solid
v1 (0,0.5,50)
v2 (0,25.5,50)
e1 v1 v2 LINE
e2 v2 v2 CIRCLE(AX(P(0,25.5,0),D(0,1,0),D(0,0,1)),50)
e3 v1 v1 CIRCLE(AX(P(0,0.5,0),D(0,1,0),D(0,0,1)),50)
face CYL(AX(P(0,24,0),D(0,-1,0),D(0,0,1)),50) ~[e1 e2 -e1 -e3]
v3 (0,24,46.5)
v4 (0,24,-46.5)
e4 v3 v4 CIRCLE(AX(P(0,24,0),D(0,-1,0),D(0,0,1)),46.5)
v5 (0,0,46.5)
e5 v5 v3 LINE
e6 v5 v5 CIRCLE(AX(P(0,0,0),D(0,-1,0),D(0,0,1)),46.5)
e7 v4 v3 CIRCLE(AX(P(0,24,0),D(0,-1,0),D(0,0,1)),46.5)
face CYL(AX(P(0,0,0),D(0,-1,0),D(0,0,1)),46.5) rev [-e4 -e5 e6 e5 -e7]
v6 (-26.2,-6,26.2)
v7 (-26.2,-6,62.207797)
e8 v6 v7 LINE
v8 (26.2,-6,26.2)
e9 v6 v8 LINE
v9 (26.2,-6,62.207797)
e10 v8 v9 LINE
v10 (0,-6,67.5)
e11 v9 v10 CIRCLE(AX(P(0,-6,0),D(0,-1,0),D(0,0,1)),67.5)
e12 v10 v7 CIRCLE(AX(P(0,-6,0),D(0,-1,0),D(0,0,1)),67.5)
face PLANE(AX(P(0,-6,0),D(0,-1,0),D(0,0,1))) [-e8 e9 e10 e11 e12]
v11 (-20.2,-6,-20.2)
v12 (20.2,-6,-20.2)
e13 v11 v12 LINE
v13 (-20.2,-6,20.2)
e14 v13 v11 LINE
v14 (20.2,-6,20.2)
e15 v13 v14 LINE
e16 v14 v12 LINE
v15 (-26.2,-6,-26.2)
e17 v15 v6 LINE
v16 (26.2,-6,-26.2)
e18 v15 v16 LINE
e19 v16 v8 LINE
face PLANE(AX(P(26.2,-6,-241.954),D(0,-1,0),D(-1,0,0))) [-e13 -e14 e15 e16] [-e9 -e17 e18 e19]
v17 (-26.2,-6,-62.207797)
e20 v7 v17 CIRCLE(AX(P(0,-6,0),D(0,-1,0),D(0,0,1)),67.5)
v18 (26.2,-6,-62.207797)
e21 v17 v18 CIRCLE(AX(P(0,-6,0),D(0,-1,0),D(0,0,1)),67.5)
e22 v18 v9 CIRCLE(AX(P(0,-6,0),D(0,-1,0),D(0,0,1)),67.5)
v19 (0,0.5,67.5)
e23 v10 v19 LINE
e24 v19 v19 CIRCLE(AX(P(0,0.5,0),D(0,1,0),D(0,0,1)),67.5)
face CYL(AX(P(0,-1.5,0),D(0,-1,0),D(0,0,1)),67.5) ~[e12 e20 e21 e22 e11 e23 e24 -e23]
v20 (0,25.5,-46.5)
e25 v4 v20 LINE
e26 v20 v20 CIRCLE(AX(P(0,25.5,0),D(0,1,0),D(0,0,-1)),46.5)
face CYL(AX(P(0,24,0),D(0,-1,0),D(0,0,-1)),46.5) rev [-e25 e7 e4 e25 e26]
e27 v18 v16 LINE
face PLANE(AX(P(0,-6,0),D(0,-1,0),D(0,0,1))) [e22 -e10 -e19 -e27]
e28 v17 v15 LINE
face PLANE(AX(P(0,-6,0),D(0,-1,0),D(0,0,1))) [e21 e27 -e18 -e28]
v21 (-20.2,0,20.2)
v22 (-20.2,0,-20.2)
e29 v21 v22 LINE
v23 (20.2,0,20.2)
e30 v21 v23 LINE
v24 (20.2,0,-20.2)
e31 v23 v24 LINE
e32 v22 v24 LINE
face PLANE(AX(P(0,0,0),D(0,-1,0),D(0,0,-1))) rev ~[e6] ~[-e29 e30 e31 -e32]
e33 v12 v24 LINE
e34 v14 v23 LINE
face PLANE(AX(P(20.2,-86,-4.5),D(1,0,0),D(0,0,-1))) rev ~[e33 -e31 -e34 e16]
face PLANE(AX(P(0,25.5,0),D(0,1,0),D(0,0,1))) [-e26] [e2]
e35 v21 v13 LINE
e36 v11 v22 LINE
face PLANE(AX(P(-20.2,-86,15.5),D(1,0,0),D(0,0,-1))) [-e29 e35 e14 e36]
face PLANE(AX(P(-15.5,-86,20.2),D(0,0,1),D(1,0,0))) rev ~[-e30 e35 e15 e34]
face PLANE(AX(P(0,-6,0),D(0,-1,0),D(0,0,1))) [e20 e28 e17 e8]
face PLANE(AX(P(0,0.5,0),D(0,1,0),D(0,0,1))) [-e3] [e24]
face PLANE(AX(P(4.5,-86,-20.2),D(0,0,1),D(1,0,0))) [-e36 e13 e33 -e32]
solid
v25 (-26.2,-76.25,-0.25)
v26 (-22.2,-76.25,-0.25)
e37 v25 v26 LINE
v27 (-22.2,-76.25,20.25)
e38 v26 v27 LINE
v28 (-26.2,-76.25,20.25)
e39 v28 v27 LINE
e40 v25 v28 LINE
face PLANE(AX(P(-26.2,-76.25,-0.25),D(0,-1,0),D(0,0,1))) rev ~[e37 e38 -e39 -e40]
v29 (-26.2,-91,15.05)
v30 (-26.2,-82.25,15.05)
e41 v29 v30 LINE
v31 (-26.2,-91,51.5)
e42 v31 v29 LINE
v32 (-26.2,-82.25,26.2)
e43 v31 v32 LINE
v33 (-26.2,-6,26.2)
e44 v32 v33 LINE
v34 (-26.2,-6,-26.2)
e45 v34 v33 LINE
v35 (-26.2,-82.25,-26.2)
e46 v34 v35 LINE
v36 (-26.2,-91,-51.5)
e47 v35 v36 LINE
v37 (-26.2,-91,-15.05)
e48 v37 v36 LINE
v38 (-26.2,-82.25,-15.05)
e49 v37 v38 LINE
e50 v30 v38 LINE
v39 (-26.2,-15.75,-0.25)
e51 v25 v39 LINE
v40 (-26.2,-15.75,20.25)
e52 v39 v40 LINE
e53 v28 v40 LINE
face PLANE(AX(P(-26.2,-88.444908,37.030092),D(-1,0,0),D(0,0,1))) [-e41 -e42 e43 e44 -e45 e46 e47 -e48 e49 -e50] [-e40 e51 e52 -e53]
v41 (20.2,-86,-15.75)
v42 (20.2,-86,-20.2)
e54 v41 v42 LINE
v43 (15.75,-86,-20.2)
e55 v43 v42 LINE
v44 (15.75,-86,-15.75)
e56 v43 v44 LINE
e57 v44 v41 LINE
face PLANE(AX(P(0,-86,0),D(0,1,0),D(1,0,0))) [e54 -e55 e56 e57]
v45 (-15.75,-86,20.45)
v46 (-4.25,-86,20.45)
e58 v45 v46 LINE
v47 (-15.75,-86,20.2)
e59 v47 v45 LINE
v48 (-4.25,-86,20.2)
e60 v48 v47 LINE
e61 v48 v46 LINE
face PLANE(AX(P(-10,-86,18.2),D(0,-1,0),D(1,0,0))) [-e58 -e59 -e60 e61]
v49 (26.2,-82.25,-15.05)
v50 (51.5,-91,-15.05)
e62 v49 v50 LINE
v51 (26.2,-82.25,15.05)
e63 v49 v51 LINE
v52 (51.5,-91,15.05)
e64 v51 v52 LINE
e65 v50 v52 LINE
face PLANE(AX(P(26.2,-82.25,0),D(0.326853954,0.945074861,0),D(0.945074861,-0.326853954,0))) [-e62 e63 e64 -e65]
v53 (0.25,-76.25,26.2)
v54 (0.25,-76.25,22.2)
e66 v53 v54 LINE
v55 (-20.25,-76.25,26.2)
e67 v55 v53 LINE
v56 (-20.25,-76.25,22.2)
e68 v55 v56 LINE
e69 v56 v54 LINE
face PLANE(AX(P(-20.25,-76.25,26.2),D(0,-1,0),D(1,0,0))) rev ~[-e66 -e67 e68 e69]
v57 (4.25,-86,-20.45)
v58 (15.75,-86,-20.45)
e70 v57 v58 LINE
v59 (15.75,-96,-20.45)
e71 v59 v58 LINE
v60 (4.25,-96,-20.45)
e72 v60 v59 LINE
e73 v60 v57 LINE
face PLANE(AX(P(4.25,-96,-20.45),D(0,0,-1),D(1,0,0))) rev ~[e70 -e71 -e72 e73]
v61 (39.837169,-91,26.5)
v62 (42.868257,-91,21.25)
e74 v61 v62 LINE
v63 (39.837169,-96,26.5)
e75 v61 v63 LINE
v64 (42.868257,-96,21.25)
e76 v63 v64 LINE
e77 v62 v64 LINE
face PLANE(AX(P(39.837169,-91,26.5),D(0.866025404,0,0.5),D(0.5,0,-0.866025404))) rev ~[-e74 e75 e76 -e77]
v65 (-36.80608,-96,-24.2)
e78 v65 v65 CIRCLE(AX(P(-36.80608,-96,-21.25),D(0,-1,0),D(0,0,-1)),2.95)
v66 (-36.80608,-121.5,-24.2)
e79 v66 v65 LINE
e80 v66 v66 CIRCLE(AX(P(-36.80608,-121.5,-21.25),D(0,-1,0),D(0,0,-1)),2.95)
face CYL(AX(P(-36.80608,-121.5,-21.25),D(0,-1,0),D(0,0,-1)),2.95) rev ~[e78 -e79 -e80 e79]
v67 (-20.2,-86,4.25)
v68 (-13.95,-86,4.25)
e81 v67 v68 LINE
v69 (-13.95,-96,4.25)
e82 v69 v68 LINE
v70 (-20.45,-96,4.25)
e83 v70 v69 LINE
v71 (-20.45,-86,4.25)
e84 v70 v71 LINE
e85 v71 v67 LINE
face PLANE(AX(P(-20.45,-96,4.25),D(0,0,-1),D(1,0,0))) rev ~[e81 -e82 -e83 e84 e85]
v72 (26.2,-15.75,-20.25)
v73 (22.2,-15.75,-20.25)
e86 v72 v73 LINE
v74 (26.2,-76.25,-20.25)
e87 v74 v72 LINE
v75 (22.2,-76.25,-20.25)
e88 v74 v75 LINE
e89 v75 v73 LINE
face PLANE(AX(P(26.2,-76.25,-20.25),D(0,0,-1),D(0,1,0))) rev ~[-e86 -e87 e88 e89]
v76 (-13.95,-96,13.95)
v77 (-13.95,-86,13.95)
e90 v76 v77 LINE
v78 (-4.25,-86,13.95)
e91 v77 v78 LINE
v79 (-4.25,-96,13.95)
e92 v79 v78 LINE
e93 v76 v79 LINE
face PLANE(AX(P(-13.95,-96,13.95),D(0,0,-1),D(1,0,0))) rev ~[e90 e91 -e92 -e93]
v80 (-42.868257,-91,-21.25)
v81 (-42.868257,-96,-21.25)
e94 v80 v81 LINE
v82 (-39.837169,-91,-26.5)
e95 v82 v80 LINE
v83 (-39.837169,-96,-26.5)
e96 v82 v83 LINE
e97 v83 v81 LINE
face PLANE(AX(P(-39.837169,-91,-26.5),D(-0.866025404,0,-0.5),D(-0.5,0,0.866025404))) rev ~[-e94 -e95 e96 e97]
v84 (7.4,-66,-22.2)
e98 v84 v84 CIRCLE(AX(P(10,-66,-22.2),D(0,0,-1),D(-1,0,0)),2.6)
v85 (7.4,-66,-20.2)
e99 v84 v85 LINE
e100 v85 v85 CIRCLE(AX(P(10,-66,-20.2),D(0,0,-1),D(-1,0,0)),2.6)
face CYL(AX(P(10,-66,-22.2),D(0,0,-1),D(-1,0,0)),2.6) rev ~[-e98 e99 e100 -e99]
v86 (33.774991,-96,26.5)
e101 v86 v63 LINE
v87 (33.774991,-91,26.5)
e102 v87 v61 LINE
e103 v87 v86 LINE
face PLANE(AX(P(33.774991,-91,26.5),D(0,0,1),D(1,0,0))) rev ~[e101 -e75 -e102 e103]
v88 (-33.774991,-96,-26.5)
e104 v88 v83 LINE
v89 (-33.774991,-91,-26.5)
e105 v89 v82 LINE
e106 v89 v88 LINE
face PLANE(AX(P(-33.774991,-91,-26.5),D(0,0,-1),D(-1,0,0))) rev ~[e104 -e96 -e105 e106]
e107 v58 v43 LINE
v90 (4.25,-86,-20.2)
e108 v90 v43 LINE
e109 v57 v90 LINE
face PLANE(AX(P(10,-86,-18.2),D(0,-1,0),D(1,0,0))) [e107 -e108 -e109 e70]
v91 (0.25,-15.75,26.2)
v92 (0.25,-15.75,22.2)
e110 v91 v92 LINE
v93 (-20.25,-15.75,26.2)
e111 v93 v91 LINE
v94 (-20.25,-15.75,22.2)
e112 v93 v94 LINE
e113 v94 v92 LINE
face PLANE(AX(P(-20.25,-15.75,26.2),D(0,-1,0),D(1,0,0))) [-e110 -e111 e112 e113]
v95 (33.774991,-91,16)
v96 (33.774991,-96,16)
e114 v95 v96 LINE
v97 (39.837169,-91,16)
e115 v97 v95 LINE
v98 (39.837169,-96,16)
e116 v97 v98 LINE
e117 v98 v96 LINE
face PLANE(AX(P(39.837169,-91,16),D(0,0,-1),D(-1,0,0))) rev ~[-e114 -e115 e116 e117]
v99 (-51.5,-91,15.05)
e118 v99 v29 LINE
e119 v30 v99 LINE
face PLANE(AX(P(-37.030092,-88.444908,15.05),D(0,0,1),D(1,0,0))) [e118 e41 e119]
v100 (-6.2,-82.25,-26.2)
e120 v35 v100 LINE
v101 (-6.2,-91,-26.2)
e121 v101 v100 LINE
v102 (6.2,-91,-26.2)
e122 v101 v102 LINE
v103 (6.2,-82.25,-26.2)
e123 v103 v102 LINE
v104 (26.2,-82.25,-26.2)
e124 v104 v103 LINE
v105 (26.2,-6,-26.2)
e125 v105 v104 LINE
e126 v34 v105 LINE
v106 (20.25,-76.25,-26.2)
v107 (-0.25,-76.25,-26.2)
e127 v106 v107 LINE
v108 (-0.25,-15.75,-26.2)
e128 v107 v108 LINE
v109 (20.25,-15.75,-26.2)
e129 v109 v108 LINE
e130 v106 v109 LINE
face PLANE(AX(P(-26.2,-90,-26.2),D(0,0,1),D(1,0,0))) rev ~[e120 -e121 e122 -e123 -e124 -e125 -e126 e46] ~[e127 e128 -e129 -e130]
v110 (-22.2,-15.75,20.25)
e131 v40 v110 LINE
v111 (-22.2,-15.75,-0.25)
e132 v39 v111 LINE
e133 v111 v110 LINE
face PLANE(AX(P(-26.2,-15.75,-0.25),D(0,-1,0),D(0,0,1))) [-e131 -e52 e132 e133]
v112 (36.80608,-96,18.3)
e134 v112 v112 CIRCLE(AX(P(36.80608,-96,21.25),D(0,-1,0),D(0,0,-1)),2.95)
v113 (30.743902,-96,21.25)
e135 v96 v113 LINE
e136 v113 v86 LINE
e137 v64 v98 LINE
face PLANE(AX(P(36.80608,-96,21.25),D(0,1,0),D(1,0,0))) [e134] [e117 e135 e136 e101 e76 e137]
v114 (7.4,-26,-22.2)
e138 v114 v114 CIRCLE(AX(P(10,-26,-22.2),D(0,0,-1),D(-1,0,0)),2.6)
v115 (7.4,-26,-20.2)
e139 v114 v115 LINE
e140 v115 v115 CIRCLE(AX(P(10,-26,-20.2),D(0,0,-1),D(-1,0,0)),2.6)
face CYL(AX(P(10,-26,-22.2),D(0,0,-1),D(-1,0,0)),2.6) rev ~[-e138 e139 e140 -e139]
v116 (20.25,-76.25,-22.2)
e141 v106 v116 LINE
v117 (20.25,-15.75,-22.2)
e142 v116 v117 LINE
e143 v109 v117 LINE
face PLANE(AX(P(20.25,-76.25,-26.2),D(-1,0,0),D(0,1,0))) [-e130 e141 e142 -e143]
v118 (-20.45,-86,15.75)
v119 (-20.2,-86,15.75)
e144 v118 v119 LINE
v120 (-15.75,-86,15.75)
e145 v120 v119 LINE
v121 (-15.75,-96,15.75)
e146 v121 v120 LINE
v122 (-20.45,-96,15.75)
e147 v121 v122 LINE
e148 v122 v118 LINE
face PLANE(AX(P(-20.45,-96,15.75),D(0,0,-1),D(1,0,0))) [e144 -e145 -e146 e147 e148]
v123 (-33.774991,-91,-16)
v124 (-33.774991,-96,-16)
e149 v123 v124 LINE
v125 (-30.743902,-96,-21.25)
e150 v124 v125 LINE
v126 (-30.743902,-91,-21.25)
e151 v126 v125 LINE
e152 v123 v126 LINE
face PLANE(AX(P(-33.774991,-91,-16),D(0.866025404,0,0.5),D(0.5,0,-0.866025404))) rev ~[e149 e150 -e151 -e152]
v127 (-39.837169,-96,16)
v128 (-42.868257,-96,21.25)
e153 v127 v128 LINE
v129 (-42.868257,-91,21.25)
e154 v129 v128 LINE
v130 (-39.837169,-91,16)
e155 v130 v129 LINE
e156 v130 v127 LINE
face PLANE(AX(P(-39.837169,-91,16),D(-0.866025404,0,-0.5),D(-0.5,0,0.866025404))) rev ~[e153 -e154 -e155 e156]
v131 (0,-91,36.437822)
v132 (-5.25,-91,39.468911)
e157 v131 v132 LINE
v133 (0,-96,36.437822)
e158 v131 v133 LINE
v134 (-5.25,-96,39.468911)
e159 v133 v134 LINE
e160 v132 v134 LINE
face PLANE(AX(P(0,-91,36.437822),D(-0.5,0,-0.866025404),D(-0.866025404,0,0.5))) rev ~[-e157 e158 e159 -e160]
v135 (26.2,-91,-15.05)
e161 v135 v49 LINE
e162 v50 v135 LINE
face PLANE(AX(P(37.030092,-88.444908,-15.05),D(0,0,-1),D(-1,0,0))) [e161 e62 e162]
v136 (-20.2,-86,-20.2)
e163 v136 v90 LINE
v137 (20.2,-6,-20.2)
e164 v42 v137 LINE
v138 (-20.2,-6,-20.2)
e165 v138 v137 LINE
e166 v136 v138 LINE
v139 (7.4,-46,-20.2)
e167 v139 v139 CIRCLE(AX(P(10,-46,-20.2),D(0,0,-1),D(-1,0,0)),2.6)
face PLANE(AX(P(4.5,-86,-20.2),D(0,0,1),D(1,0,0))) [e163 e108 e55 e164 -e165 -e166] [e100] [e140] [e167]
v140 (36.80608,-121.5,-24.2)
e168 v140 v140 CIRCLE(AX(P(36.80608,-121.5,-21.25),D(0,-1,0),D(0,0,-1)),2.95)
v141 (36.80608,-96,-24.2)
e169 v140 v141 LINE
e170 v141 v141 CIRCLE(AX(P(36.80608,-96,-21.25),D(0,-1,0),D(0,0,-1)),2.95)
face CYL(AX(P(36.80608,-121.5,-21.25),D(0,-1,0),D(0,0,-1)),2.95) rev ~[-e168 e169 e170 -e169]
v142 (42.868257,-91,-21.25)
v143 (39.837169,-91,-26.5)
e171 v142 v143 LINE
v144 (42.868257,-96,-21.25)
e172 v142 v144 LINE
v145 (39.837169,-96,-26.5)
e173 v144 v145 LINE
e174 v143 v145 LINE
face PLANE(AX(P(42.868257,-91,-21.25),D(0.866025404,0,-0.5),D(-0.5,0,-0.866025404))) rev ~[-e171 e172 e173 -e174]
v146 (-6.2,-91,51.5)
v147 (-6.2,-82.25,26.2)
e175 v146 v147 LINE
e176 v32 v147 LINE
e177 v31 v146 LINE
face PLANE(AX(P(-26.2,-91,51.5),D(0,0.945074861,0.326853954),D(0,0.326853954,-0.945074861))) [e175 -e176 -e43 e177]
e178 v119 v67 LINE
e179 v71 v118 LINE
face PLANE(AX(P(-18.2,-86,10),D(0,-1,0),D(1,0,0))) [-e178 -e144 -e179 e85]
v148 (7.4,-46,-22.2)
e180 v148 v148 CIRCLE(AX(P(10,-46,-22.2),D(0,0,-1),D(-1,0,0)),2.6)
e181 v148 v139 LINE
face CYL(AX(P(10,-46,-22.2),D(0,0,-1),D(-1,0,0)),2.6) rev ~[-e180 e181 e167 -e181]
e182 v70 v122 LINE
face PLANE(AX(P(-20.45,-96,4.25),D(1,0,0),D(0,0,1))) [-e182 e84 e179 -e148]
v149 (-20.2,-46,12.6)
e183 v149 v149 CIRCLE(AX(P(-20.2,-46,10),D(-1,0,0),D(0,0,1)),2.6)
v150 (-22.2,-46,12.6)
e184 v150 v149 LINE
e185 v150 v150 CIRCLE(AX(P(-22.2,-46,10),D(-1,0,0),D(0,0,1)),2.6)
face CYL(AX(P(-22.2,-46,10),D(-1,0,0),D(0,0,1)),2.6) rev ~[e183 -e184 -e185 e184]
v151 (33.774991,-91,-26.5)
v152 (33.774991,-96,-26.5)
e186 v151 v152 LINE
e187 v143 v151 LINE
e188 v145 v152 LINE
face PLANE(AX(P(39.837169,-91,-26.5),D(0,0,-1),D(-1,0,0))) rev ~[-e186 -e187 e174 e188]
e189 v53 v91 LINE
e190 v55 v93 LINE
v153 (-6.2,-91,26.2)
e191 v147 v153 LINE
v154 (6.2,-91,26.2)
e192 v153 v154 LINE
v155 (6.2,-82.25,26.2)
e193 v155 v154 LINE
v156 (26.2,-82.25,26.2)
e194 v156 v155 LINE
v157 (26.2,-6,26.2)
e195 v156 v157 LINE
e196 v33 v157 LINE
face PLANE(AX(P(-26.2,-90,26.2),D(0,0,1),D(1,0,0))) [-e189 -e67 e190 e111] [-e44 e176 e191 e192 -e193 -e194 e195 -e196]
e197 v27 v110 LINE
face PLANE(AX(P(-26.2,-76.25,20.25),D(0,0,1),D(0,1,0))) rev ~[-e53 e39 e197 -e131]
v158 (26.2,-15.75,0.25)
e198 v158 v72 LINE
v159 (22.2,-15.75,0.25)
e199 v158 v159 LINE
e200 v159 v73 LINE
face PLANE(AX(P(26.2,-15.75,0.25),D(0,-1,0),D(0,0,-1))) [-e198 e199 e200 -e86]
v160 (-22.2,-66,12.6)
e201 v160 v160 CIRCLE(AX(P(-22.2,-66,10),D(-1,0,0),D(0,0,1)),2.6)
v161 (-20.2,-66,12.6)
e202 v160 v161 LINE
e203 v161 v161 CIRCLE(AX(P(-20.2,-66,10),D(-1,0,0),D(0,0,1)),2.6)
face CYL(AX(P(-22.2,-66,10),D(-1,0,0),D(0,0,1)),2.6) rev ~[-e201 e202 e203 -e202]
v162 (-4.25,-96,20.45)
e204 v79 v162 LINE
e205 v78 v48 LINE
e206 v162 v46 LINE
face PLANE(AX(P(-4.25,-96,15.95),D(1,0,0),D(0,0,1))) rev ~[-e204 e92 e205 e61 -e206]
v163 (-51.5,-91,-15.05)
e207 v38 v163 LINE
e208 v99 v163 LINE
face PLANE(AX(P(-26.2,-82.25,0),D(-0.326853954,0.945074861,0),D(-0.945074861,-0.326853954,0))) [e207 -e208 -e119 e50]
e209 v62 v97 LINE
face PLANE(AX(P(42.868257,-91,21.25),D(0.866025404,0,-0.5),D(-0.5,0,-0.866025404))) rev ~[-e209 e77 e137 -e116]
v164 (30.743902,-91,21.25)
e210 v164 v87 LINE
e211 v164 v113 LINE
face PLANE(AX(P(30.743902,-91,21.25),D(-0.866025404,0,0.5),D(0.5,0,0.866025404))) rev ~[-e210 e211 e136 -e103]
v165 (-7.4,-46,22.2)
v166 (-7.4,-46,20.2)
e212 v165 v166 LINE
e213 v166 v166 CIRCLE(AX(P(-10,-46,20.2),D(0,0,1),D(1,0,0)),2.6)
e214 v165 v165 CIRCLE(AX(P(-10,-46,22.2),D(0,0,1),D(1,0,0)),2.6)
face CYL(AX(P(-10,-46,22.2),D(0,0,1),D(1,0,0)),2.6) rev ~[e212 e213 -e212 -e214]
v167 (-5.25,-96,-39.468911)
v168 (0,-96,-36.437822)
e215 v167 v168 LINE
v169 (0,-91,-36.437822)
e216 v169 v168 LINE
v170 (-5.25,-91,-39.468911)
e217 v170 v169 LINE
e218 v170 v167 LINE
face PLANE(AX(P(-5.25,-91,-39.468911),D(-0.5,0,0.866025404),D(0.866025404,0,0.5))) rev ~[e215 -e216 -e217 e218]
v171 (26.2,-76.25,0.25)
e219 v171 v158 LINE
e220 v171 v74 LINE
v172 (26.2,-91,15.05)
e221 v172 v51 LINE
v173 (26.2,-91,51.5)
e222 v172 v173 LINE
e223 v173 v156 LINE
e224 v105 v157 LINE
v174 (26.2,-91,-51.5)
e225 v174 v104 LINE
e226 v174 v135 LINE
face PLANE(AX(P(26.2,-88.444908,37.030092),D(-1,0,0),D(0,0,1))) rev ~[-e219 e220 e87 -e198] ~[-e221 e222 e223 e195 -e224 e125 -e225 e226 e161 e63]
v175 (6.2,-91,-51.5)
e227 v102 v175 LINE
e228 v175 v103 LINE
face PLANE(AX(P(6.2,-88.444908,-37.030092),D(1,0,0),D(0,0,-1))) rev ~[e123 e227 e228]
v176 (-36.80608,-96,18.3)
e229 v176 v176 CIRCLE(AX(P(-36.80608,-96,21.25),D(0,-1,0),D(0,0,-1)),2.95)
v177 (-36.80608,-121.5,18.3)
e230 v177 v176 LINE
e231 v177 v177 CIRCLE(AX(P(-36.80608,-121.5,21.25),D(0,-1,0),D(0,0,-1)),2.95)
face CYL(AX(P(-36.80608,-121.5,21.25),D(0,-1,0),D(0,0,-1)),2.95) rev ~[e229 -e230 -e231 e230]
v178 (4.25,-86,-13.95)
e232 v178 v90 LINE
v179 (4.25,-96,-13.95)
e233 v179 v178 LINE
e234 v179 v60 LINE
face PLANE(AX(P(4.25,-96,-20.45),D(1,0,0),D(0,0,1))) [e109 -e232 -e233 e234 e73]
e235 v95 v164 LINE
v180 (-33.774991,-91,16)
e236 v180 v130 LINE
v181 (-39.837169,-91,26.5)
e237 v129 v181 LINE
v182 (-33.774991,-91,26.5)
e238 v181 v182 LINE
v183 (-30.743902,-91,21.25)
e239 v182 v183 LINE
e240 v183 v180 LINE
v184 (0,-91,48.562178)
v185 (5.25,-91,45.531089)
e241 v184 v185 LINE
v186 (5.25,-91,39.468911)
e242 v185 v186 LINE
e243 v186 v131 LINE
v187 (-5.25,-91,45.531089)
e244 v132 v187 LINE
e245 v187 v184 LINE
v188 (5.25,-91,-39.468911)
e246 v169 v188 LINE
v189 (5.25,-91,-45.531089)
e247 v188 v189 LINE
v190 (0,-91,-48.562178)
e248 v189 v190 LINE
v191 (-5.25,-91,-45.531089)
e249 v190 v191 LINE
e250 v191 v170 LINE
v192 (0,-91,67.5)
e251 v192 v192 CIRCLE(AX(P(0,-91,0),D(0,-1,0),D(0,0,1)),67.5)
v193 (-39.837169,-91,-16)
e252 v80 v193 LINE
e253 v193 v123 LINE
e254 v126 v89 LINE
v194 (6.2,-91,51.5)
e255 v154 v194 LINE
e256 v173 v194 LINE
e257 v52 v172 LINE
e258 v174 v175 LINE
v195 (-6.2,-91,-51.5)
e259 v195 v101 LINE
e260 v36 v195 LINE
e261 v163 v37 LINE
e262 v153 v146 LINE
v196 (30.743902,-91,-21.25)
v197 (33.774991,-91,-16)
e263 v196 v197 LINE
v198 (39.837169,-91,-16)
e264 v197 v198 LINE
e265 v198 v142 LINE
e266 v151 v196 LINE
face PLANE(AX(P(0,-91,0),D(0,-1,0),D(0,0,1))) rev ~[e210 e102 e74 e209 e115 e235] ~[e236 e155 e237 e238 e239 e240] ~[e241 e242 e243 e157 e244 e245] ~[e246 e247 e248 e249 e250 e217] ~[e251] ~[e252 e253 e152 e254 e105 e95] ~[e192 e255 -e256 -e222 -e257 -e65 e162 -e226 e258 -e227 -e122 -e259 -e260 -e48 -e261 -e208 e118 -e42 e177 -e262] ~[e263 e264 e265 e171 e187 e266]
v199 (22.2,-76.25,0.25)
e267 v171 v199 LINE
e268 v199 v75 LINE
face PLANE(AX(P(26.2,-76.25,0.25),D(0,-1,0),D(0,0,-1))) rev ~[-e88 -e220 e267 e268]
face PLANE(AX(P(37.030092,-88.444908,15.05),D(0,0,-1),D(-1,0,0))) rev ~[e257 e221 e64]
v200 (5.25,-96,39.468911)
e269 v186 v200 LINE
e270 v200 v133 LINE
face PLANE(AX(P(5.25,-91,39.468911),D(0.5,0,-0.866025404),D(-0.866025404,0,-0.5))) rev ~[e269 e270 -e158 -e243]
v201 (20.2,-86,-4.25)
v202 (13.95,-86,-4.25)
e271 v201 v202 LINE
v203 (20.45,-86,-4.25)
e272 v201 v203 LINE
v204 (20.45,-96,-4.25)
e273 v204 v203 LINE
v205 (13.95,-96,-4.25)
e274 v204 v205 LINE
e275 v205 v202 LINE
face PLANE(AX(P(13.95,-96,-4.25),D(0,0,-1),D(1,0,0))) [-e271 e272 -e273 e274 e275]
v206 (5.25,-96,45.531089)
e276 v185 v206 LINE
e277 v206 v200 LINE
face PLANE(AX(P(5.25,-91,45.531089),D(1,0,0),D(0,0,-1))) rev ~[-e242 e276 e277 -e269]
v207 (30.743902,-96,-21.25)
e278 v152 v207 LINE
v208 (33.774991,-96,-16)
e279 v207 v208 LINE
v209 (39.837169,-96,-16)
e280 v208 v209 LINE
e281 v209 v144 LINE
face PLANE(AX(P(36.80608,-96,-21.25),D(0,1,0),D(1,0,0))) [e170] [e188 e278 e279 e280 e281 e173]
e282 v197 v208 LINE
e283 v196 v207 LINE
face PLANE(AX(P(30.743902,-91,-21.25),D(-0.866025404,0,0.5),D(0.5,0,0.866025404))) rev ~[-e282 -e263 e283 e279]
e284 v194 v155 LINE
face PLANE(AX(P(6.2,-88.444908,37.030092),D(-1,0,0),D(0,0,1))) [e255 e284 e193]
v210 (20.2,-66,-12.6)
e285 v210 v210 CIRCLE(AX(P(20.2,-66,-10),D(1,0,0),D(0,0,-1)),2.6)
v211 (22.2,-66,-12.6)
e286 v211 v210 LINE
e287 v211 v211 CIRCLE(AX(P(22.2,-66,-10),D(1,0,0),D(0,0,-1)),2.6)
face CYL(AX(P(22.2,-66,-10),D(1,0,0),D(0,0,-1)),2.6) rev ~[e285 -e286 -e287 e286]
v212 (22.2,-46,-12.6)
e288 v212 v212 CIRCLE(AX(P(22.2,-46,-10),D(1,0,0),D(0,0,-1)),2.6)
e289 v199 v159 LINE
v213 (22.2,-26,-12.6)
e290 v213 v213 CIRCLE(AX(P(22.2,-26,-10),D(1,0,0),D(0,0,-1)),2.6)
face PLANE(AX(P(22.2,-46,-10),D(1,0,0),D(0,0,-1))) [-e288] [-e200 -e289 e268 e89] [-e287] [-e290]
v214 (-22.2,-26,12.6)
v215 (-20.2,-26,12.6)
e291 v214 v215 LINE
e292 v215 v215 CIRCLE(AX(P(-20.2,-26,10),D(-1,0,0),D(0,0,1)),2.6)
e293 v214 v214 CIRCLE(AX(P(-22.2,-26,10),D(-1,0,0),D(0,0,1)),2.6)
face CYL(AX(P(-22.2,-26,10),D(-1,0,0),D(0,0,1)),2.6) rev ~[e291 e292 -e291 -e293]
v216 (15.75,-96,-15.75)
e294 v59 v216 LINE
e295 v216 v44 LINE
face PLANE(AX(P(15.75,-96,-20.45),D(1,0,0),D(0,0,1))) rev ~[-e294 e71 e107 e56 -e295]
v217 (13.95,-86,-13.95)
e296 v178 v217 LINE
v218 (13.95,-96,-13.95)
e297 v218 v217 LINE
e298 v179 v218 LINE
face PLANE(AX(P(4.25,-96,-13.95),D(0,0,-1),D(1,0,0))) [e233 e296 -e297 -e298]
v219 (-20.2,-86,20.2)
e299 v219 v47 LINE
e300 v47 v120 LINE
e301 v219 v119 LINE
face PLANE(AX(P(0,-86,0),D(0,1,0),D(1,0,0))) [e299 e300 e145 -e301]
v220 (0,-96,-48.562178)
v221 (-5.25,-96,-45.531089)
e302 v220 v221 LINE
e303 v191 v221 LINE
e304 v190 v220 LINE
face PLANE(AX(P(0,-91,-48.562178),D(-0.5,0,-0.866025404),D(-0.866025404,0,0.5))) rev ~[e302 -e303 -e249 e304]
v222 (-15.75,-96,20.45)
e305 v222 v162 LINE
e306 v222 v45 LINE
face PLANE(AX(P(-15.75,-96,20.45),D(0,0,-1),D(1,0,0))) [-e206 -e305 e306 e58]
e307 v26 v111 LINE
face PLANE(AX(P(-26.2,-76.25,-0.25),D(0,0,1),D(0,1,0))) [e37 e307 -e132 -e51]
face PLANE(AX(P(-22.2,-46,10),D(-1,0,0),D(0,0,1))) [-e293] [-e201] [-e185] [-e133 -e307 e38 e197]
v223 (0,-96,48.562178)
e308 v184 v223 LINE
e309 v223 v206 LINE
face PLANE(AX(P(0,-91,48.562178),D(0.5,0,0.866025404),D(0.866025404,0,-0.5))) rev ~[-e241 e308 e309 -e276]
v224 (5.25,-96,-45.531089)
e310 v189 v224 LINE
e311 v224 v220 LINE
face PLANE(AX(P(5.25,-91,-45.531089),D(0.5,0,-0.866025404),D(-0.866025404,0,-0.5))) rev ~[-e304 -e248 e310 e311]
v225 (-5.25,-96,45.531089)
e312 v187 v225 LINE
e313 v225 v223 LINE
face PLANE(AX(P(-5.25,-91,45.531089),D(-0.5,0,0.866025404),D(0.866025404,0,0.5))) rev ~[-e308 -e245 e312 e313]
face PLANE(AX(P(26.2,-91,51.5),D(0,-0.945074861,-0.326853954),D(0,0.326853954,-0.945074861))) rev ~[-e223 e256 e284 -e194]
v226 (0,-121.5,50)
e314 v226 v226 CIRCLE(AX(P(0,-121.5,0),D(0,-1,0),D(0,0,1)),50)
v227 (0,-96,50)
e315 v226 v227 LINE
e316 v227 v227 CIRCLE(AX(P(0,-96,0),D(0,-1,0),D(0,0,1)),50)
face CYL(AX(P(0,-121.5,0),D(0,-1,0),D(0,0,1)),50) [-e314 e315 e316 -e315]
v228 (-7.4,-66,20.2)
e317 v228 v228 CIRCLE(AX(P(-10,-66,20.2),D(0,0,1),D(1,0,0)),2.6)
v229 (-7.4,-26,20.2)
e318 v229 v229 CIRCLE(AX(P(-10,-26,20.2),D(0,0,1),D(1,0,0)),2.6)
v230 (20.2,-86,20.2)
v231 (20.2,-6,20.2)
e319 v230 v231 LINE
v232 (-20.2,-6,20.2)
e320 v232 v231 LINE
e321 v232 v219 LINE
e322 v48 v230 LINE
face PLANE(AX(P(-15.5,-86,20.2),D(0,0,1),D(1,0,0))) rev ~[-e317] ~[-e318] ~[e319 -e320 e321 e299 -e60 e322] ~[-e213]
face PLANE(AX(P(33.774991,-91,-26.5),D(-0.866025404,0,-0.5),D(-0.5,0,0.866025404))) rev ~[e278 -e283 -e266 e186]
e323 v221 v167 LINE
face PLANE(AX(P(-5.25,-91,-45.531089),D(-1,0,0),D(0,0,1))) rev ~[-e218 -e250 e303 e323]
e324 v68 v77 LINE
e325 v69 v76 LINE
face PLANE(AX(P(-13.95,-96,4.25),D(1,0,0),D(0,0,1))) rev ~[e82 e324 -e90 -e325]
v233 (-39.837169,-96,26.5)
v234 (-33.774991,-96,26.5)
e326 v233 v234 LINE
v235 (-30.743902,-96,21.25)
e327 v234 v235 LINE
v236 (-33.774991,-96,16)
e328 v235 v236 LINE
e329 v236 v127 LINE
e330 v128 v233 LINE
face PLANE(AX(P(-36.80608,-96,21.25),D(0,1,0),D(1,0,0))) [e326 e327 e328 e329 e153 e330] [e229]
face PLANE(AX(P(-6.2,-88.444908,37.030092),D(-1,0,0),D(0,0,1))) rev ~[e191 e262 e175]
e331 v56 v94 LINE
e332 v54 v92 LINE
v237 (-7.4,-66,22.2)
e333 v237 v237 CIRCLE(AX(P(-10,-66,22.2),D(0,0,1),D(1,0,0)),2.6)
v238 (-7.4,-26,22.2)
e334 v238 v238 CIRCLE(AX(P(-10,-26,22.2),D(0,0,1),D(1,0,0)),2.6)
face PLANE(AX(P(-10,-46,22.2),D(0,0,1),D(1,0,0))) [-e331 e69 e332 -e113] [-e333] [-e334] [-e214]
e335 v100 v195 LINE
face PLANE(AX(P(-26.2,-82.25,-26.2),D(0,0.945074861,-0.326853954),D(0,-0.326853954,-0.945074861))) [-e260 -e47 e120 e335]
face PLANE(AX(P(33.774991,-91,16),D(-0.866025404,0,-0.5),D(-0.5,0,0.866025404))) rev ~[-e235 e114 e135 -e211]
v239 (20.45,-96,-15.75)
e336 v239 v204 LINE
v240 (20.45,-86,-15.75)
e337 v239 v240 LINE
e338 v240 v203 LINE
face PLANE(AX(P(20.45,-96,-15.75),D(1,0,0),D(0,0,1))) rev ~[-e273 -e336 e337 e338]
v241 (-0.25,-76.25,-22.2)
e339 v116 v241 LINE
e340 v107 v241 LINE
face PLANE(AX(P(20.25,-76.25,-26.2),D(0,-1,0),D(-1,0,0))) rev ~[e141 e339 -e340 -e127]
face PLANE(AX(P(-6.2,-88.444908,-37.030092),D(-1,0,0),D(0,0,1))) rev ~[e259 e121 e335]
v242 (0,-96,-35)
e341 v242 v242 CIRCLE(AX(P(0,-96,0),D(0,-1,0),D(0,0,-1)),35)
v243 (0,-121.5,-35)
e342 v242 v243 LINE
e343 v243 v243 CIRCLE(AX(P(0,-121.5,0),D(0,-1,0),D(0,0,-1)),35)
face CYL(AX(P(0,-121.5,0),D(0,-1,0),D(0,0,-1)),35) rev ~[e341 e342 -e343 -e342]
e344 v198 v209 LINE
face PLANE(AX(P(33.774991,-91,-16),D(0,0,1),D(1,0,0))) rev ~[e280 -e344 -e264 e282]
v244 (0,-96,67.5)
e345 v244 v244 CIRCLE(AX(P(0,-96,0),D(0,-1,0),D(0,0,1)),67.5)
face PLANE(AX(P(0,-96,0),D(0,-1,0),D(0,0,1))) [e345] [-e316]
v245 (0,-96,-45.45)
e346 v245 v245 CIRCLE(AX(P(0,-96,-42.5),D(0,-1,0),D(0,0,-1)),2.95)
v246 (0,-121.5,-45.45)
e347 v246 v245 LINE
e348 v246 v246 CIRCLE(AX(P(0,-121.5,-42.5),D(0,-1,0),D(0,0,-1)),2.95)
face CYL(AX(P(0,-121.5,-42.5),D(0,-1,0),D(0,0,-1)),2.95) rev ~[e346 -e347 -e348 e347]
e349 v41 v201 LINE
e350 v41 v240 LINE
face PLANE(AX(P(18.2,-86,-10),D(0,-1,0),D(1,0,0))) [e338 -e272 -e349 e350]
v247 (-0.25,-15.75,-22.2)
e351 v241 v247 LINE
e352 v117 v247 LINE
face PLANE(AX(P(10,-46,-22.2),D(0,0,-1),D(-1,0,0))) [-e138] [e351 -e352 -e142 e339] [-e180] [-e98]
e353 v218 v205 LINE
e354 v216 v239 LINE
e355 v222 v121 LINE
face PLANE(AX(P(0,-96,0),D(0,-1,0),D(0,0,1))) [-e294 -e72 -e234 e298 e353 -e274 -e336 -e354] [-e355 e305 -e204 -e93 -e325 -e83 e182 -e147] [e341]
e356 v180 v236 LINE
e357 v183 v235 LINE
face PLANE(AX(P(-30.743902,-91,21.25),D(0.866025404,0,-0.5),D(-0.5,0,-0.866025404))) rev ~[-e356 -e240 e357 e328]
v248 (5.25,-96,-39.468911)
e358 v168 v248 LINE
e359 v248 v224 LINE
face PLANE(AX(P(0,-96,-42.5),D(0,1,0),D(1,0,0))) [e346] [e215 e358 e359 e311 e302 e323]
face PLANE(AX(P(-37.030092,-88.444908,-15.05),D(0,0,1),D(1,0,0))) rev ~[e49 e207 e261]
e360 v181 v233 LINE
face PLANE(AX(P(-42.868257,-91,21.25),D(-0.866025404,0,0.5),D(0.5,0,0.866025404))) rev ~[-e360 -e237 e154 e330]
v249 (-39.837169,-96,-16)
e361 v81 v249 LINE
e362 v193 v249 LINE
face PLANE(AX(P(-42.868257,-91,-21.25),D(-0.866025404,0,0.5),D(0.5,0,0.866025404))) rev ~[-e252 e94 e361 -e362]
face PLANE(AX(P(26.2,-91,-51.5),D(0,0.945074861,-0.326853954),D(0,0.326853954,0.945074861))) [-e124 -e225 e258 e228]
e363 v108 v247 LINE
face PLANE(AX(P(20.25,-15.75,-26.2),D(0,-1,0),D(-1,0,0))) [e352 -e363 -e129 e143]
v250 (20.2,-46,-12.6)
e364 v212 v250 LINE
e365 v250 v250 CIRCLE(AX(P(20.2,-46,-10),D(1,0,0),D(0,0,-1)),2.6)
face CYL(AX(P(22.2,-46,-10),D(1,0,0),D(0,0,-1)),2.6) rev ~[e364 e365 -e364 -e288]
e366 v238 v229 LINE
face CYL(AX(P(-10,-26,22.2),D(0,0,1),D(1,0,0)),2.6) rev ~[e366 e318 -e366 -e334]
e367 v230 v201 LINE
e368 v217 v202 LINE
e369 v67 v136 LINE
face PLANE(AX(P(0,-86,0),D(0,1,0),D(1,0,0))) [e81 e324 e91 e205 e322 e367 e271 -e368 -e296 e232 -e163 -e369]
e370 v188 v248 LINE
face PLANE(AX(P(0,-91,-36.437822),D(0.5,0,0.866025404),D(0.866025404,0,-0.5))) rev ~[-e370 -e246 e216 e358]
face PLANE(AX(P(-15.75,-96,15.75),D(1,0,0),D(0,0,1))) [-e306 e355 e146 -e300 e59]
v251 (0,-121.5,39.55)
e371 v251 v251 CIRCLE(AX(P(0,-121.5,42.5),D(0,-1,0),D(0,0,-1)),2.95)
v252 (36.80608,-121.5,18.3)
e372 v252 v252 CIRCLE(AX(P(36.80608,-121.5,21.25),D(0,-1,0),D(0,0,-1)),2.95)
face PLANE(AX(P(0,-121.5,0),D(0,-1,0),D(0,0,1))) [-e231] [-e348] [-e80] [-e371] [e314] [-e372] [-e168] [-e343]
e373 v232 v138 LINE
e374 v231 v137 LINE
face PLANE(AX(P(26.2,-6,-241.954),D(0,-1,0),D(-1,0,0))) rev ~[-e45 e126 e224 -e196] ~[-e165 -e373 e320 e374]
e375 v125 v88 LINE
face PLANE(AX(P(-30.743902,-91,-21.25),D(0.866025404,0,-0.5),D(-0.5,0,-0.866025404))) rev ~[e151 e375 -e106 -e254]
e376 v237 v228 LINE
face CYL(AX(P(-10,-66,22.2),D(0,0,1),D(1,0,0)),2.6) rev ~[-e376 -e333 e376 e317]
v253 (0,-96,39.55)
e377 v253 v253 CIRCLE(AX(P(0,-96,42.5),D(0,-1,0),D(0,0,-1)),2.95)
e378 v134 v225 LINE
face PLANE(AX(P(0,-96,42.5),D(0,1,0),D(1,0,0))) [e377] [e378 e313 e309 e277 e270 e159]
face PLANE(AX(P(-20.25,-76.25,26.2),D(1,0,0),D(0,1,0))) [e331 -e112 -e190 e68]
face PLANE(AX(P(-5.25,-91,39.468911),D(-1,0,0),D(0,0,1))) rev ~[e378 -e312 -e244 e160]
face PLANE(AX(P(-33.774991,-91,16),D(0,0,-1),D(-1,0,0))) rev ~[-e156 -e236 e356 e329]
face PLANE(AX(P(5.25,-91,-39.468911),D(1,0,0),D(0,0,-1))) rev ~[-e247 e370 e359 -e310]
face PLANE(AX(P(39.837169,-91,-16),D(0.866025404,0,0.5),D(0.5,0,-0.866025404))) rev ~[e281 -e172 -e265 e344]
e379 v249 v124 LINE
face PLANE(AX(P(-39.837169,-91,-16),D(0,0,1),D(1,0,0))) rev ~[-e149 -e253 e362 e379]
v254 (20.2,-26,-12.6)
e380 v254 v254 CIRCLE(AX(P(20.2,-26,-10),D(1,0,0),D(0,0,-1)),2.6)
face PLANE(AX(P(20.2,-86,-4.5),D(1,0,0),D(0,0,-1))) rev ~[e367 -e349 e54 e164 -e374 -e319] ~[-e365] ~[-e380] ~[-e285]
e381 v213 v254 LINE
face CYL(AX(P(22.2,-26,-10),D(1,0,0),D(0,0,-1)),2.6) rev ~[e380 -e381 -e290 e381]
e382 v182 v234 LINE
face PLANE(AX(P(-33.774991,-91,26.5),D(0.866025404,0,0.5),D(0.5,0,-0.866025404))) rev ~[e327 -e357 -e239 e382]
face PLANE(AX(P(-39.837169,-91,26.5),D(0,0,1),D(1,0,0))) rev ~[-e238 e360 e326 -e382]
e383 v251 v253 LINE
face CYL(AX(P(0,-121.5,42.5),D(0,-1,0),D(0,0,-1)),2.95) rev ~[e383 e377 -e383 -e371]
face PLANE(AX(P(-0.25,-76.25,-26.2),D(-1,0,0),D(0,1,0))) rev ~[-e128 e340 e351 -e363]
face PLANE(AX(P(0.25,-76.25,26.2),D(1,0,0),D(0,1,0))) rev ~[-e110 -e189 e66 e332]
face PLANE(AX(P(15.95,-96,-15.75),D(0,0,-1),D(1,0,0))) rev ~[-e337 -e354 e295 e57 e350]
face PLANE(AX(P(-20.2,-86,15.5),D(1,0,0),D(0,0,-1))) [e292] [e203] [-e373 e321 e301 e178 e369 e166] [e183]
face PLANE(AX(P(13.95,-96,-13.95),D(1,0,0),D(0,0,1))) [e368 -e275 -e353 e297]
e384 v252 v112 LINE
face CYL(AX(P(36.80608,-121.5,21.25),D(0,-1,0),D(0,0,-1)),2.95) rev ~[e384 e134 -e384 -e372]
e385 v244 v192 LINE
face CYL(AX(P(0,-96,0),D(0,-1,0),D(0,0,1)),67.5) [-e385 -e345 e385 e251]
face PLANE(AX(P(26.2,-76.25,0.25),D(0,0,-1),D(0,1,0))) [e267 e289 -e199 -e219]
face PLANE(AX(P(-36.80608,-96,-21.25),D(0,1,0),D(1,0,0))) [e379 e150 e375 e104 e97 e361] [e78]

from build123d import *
from build123d.topology import SkipClean

# Parameters (mm, degrees)
SKETCH1_R               = 51.5
SKETCH1_R_2             = 46.5
BOSS_EXTRUDE1_DEPTH     = 41
BOSS_EXTRUDE2_START     = 5
SKETCH2_R               = 75
SKETCH2_R_2             = 46.5
BOSS_EXTRUDE2_DEPTH     = 5
SKETCH3_R               = 46.5
BOSS_EXTRUDE3_DEPTH     = 5
SKETCH4_W               = 40.4
SKETCH4_H               = 40.4
CUT_EXTRUDE1_DEPTH      = 6
SKETCH5_W               = 52.4
SKETCH5_H               = 52.4
SKETCH5_W_2             = 40.4
SKETCH5_H_2             = 40.4
BOSS_EXTRUDE4_DEPTH     = 80
SKETCH8_W               = 52.4
SKETCH8_H               = 52.4
BOSS_EXTRUDE5_DEPTH     = 5
CUT_EXTRUDE4_START      = -1
SKETCH9_R               = 75
SKETCH9_R_2             = 51.5
CUT_EXTRUDE4_DEPTH      = 1
BOSS_EXTRUDE6_START     = 1
SKETCH10_R              = 75
SKETCH10_W              = 52.4
SKETCH10_H              = 52.4
BOSS_EXTRUDE6_DEPTH     = 1
CUT_EXTRUDE5_DEPTH      = 169.5556288
CUT_EXTRUDE5_DEPTH_BACK = 13
SKETCH11_R              = 51.5
SKETCH11_R_2            = 46.5
SKETCH12_W              = 40.4
SKETCH12_H              = 40.4
CUT_EXTRUDE6_DEPTH      = 1
SKETCH13_W              = 52.4
SKETCH13_H              = 52.4
BOSS_EXTRUDE7_DEPTH     = 1
SKETCH6_W               = 20.5
SKETCH6_H               = 60.5
CUT_EXTRUDE2_DEPTH      = 4
SKETCH7_R               = 2.6
CUT_EXTRUDE3_DEPTH      = 2
SKETCH14_W              = 20.5
SKETCH14_H              = 60.5
CUT_EXTRUDE7_DEPTH      = 4
SKETCH15_R              = 2.6
CUT_EXTRUDE8_DEPTH      = 4
CIRPATTERN1_COUNT       = 2
CIRPATTERN2_COUNT       = 2
CUT_EXTRUDE9_START      = -14
SKETCH16_R              = 75
SKETCH16_R_2            = 67.5
CUT_EXTRUDE9_DEPTH      = 14
BOSS_EXTRUDE8_START     = 5
SKETCH17_R              = 67.5
BOSS_EXTRUDE8_DEPTH     = 5
SKETCH27_W              = 11
SKETCH27_H              = 4
SKETCH27_W_2            = 4
SKETCH27_H_2            = 11
CUT_EXTRUDE10_DEPTH     = 20
CUT_EXTRUDE11_START     = -29
SKETCH28_R              = 51.5
SKETCH28_R_2            = 50
CUT_EXTRUDE11_DEPTH     = 29
BOSS_EXTRUDE17_START    = 24
SKETCH29_R              = 50
SKETCH29_R_2            = 45
BOSS_EXTRUDE17_DEPTH    = 24
SKETCH30_W              = 11.5
SKETCH30_H              = 4.5
SKETCH30_W_2            = 11
SKETCH30_H_2            = 4
SKETCH30_W_3            = 4.5
SKETCH30_H_3            = 11.5
SKETCH30_W_4            = 4
SKETCH30_H_4            = 11
CUT_EXTRUDE12_DEPTH     = 10
SKETCH31_W              = 4.5
SKETCH31_H              = 11.5
SKETCH31_W_2            = 11.5
SKETCH31_H_2            = 4.5
CUT_EXTRUDE13_DEPTH     = 10
BOSS_EXTRUDE18_START    = 24
SKETCH33_R              = 45
SKETCH33_R_2            = 35
BOSS_EXTRUDE18_DEPTH    = 24
BOSS_EXTRUDE19_START    = 1.5
SKETCH34_R              = 50
SKETCH34_R_2            = 35
BOSS_EXTRUDE19_DEPTH    = 1.5
SKETCH35_R              = 2.95
CUT_EXTRUDE14_DEPTH     = 45
BOSS_EXTRUDE20_DEPTH    = 20
BOSS_EXTRUDE21_DEPTH    = 20
BOSS_EXTRUDE22_DEPTH    = 15.05
BOSS_EXTRUDE23_DEPTH    = 20
BOSS_EXTRUDE24_DEPTH    = 20
BOSS_EXTRUDE25_DEPTH    = 15.05
CUT_EXTRUDE15_DEPTH     = 5
CUT_EXTRUDE16_START     = -4
SKETCH42_R              = 50
SKETCH42_R_2            = 46.5
CUT_EXTRUDE16_DEPTH     = 4
CUT_EXTRUDE17_START     = -0.5
SKETCH43_R              = 67.5
SKETCH43_R_2            = 50
CUT_EXTRUDE17_DEPTH     = 0.5
SKETCH44_R              = 67.5
SKETCH44_R_2            = 50
BOSS_EXTRUDE26_DEPTH    = 2
SKETCH45_R              = 50
SKETCH45_R_2            = 46.5
BOSS_EXTRUDE27_DEPTH    = 1.5
SKETCH46_W              = 11.5
SKETCH46_H              = 2
SKETCH46_W_2            = 2
SKETCH46_H_2            = 11.5
CUT_EXTRUDE18_DEPTH     = 10
SPLIT1_SURFACE_1_BACK   = 241.954
SPLIT1_SURFACE_1_DEPTH  = 483.908
SPLIT1_SURFACE_2_BACK   = 241.954
SPLIT1_SURFACE_2_DEPTH  = 483.908


with BuildPart() as part:
    # Sketch1 → Boss-Extrude1 (new body)
    with BuildSketch(Plane(origin=(0, 0, 0), x_dir=(1, 0, 0), z_dir=(0, 1, 0))):
        with Locations(Location((0, 0, 0), (0, 0, 270))):
            Circle(SKETCH1_R)
        with Locations(Location((0, 0, 0), (0, 0, 270))):
            Circle(SKETCH1_R_2, mode=Mode.SUBTRACT)
    extrude(amount=BOSS_EXTRUDE1_DEPTH)

    # Sketch2 → Boss-Extrude2 (add)
    with SkipClean():  # the faces are left unmerged after this step: merging them gives an invalid solid
        with BuildSketch(Plane.XZ.offset(BOSS_EXTRUDE2_START)):
            with Locations(Location((0, 0, 0), (0, 0, 270))):
                Circle(SKETCH2_R)
            with Locations(Location((0, 0, 0), (0, 0, 270))):
                Circle(SKETCH2_R_2, mode=Mode.SUBTRACT)
        extrude(amount=-BOSS_EXTRUDE2_DEPTH)

    # Sketch3 → Boss-Extrude3 (add)
    with BuildSketch(Plane.XZ.offset(5)):
        with Locations(Location((0, 0, 0), (0, 0, 270))):
            Circle(SKETCH3_R)
    extrude(amount=-BOSS_EXTRUDE3_DEPTH)

    # Sketch4 → Cut-Extrude1 (cut)
    with BuildSketch(Plane(origin=(0, 0, 0), x_dir=(1, 0, 0), z_dir=(0, 1, 0))):
        Rectangle(SKETCH4_W, SKETCH4_H)
    extrude(amount=-CUT_EXTRUDE1_DEPTH, mode=Mode.SUBTRACT)

    # Sketch5 → Boss-Extrude4 (add)
    with BuildSketch(Plane.XZ.offset(5)):
        Rectangle(SKETCH5_W, SKETCH5_H)
        Rectangle(SKETCH5_W_2, SKETCH5_H_2, mode=Mode.SUBTRACT)
    extrude(amount=BOSS_EXTRUDE4_DEPTH)

    # Sketch8 → Boss-Extrude5 (add)
    with BuildSketch(Plane.XZ.offset(85)):
        Rectangle(SKETCH8_W, SKETCH8_H)
    extrude(amount=BOSS_EXTRUDE5_DEPTH)

    # Sketch9 → Cut-Extrude4 (cut)
    with BuildSketch(Plane(origin=(0, 0, 0), x_dir=(1, 0, 0), z_dir=(0, 1, 0)).offset(CUT_EXTRUDE4_START)):
        with Locations(Location((0, 0, 0), (0, 0, 270))):
            Circle(SKETCH9_R)
        with Locations(Location((0, 0, 0), (0, 0, 270))):
            Circle(SKETCH9_R_2, mode=Mode.SUBTRACT)
    extrude(amount=CUT_EXTRUDE4_DEPTH, mode=Mode.SUBTRACT)

    # Sketch10 → Boss-Extrude6 (add)
    with BuildSketch(Plane.XZ.offset(5).offset(BOSS_EXTRUDE6_START)):
        with Locations(Location((0, 0, 0), (0, 0, 90))):
            Circle(SKETCH10_R)
        Rectangle(SKETCH10_W, SKETCH10_H, mode=Mode.SUBTRACT)
    extrude(amount=-BOSS_EXTRUDE6_DEPTH)

    # Sketch11 → Cut-Extrude5 (cut, two sides: drawn at the far end of the back side and taken through both)
    with BuildSketch(Plane(origin=(0, 41, 0), x_dir=(1, 0, 0), z_dir=(0, 1, 0)).offset(-CUT_EXTRUDE5_DEPTH_BACK)):
        with Locations(Location((0, 0, 0), (0, 0, 270))):
            Circle(SKETCH11_R)
        with Locations(Location((0, 0, 0), (0, 0, 90))):
            Circle(SKETCH11_R_2, mode=Mode.SUBTRACT)
    extrude(amount=CUT_EXTRUDE5_DEPTH + CUT_EXTRUDE5_DEPTH_BACK, mode=Mode.SUBTRACT)

    # Sketch12 → Cut-Extrude6 (cut)
    with BuildSketch(Plane(origin=(0, -85, 0), x_dir=(1, 0, 0), z_dir=(0, 1, 0))):
        Rectangle(SKETCH12_W, SKETCH12_H)
    extrude(amount=-CUT_EXTRUDE6_DEPTH, mode=Mode.SUBTRACT)

    # Sketch13 → Boss-Extrude7 (add)
    with BuildSketch(Plane.XZ.offset(90)):
        Rectangle(SKETCH13_W, SKETCH13_H)
    extrude(amount=BOSS_EXTRUDE7_DEPTH)

    # Sketch6 → Cut-Extrude2 (cut)
    with BuildSketch(Plane.XY.offset(26.2)):
        with Locations((-10, -46)):
            Rectangle(SKETCH6_W, SKETCH6_H)
    cut_extrude2 = extrude(amount=-CUT_EXTRUDE2_DEPTH, mode=Mode.SUBTRACT)

    # Sketch7 → Cut-Extrude3 (cut)
    with BuildSketch(Plane.XY.offset(22.2)):
        with Locations((-10, -26)):
            Circle(SKETCH7_R)
        with Locations((-10, -46)):
            Circle(SKETCH7_R)
        with Locations((-10, -66)):
            Circle(SKETCH7_R)
    cut_extrude3 = extrude(amount=-CUT_EXTRUDE3_DEPTH, mode=Mode.SUBTRACT)

    # Sketch14 → Cut-Extrude7 (cut)
    with BuildSketch(Plane.ZY.offset(26.2)):
        with Locations((10, -46)):
            Rectangle(SKETCH14_W, SKETCH14_H)
    cut_extrude7 = extrude(amount=-CUT_EXTRUDE7_DEPTH, mode=Mode.SUBTRACT)

    # Sketch15 → Cut-Extrude8 (cut)
    with BuildSketch(Plane.ZY.offset(22.2)):
        with Locations((10, -26)):
            Circle(SKETCH15_R)
        with Locations((10, -46)):
            Circle(SKETCH15_R)
        with Locations((10, -66)):
            Circle(SKETCH15_R)
    cut_extrude8 = extrude(amount=-CUT_EXTRUDE8_DEPTH, mode=Mode.SUBTRACT)

    # CirPattern1: Cut-Extrude2, Cut-Extrude3 ×2 about axis
    cirpattern1_axis = Axis((0, 0, 0), (0, 1, 0))
    add([cut_extrude2.rotate(cirpattern1_axis, i * 360 / CIRPATTERN1_COUNT) for i in range(1, CIRPATTERN1_COUNT)], mode=Mode.SUBTRACT)
    add([cut_extrude3.rotate(cirpattern1_axis, i * 360 / CIRPATTERN1_COUNT) for i in range(1, CIRPATTERN1_COUNT)], mode=Mode.SUBTRACT)

    # CirPattern2: Cut-Extrude7, Cut-Extrude8 ×2 about axis
    cirpattern2_axis = Axis((0, 0, 0), (0, 1, 0))
    add([cut_extrude7.rotate(cirpattern2_axis, i * 360 / CIRPATTERN2_COUNT) for i in range(1, CIRPATTERN2_COUNT)], mode=Mode.SUBTRACT)
    add([cut_extrude8.rotate(cirpattern2_axis, i * 360 / CIRPATTERN2_COUNT) for i in range(1, CIRPATTERN2_COUNT)], mode=Mode.SUBTRACT)

    # Sketch16 → Cut-Extrude9 (cut)
    with BuildSketch(Plane(origin=(0, -1, 0), x_dir=(1, 0, 0), z_dir=(0, 1, 0)).offset(CUT_EXTRUDE9_START)):
        Circle(SKETCH16_R)
        with Locations(Location((0, 0, 0), (0, 0, 270))):
            Circle(SKETCH16_R_2, mode=Mode.SUBTRACT)
    extrude(amount=CUT_EXTRUDE9_DEPTH, mode=Mode.SUBTRACT)

    # Sketch17 → Boss-Extrude8 (add)
    with BuildSketch(Plane.XZ.offset(91).offset(BOSS_EXTRUDE8_START)):
        with Locations(Location((0, 0, 0), (0, 0, 90))):
            Circle(SKETCH17_R)
    extrude(amount=-BOSS_EXTRUDE8_DEPTH)

    # Sketch27 → Cut-Extrude10 (cut)
    with BuildSketch(Plane(origin=(0, -86, 0), x_dir=(1, 0, 0), z_dir=(0, 1, 0))):
        with Locations((10, 18.2)):
            Rectangle(SKETCH27_W, SKETCH27_H)
        with Locations((18.2, 10)):
            Rectangle(SKETCH27_W_2, SKETCH27_H_2)
        with Locations((-18.2, -10)):
            Rectangle(SKETCH27_W_2, SKETCH27_H_2)
        with Locations((-10, -18.2)):
            Rectangle(SKETCH27_W, SKETCH27_H)
    extrude(amount=-CUT_EXTRUDE10_DEPTH, mode=Mode.SUBTRACT)

    # Sketch28 → Cut-Extrude11 (cut)
    with BuildSketch(Plane(origin=(0, 28, 0), x_dir=(1, 0, 0), z_dir=(0, 1, 0)).offset(CUT_EXTRUDE11_START)):
        Circle(SKETCH28_R)
        with Locations(Location((0, 0, 0), (0, 0, 270))):
            Circle(SKETCH28_R_2, mode=Mode.SUBTRACT)
    extrude(amount=CUT_EXTRUDE11_DEPTH, mode=Mode.SUBTRACT)

    # Sketch29 → Boss-Extrude17 (add)
    with BuildSketch(Plane.XZ.offset(96).offset(BOSS_EXTRUDE17_START)):
        with Locations(Location((0, 0, 0), (0, 0, 90))):
            Circle(SKETCH29_R)
        with Locations(Location((0, 0, 0), (0, 0, 270))):
            Circle(SKETCH29_R_2, mode=Mode.SUBTRACT)
    extrude(amount=-BOSS_EXTRUDE17_DEPTH)

    # Sketch30 → Cut-Extrude12 (cut)
    # profile 1 of 4: a face of its own
    with BuildSketch(Plane.XZ.offset(96)):
        with Locations((-10, 18.2)):
            Rectangle(SKETCH30_W, SKETCH30_H)
        with Locations((-10, 18.2)):
            Rectangle(SKETCH30_W_2, SKETCH30_H_2, mode=Mode.SUBTRACT)
    # profile 2 of 4: a face of its own
    with BuildSketch(Plane.XZ.offset(96)):
        with Locations((-10, 18.2)):
            Rectangle(SKETCH30_W_2, SKETCH30_H_2)
    # profile 3 of 4: a face of its own
    with BuildSketch(Plane.XZ.offset(96)):
        with Locations((-18.2, 10)):
            Rectangle(SKETCH30_W_3, SKETCH30_H_3)
        with Locations((-18.2, 10)):
            Rectangle(SKETCH30_W_4, SKETCH30_H_4, mode=Mode.SUBTRACT)
    # profile 4 of 4: a face of its own
    with BuildSketch(Plane.XZ.offset(96)):
        with Locations((-18.2, 10)):
            Rectangle(SKETCH30_W_4, SKETCH30_H_4)
    extrude(amount=-CUT_EXTRUDE12_DEPTH, mode=Mode.SUBTRACT)

    # Sketch31 → Cut-Extrude13 (cut)
    with BuildSketch(Plane.XZ.offset(96)):
        with Locations((18.2, -10)):
            Rectangle(SKETCH31_W, SKETCH31_H)
        with Locations((10, -18.2)):
            Rectangle(SKETCH31_W_2, SKETCH31_H_2)
    extrude(amount=-CUT_EXTRUDE13_DEPTH, mode=Mode.SUBTRACT)

    # Sketch33 → Boss-Extrude18 (add)
    with BuildSketch(Plane.XZ.offset(96).offset(BOSS_EXTRUDE18_START)):
        Circle(SKETCH33_R)
        with Locations(Location((0, 0, 0), (0, 0, 270))):
            Circle(SKETCH33_R_2, mode=Mode.SUBTRACT)
    extrude(amount=-BOSS_EXTRUDE18_DEPTH)

    # Sketch34 → Boss-Extrude19 (add)
    with BuildSketch(Plane.XZ.offset(120).offset(BOSS_EXTRUDE19_START)):
        with Locations(Location((0, 0, 0), (0, 0, 90))):
            Circle(SKETCH34_R)
        with Locations(Location((0, 0, 0), (0, 0, 270))):
            Circle(SKETCH34_R_2, mode=Mode.SUBTRACT)
    extrude(amount=-BOSS_EXTRUDE19_DEPTH)

    # Sketch35 → Cut-Extrude14 (cut)
    with BuildSketch(Plane.XZ.offset(121.5)):
        with Locations(Location((0, 42.5, 0), (0, 0, 270))):
            Circle(SKETCH35_R)
        with Locations(Location((36.806079661, 21.25, 0), (0, 0, 270))):
            Circle(SKETCH35_R)
        with Locations(Location((36.806079661, -21.25, 0), (0, 0, 270))):
            Circle(SKETCH35_R)
        with Locations(Location((0, -42.5, 0), (0, 0, 270))):
            Circle(SKETCH35_R)
        with Locations(Location((-36.806079661, -21.25, 0), (0, 0, 270))):
            Circle(SKETCH35_R)
        with Locations(Location((-36.806079661, 21.25, 0), (0, 0, 270))):
            Circle(SKETCH35_R)
    extrude(amount=-CUT_EXTRUDE14_DEPTH, mode=Mode.SUBTRACT)

    # Sketch25 → Boss-Extrude20 (add)
    with BuildSketch(Plane.ZY.offset(26.2)):
        Polygon((-26.2, -82.25), (-51.5, -91), (-26.2, -91), align=None)
    extrude(amount=-BOSS_EXTRUDE20_DEPTH)

    # Sketch37 → Boss-Extrude21 (add)
    with BuildSketch(Plane(origin=(26.2, 0, 0), x_dir=(0, 0, -1), z_dir=(1, 0, 0))):
        Polygon((26.2, -82.25), (26.2, -91), (51.5, -91), align=None)
    extrude(amount=-BOSS_EXTRUDE21_DEPTH)

    # Sketch39 → Boss-Extrude22 (add, symmetric)
    with BuildSketch(Plane(origin=(0, 0, 0), x_dir=(-1, 0, 0), z_dir=(0, 0, -1))):
        Polygon((-51.5, -91), (-26.2, -91), (-26.2, -82.25), align=None)
    extrude(amount=BOSS_EXTRUDE22_DEPTH, both=True)

    # Sketch23 → Boss-Extrude23 (add)
    with BuildSketch(Plane(origin=(26.2, 0, 0), x_dir=(0, 0, -1), z_dir=(1, 0, 0))):
        Polygon((-51.5, -91), (-26.2, -82.25), (-26.2, -91), align=None)
    extrude(amount=-BOSS_EXTRUDE23_DEPTH)

    # Sketch40 → Boss-Extrude24 (add)
    with BuildSketch(Plane.ZY.offset(26.2)):
        Polygon((26.2, -91), (51.5, -91), (26.2, -82.25), align=None)
    extrude(amount=-BOSS_EXTRUDE24_DEPTH)

    # Sketch41 → Boss-Extrude25 (add, symmetric)
    with BuildSketch(Plane.XY):
        Polygon((-51.5, -91), (-26.2, -91), (-26.2, -82.25), align=None)
    extrude(amount=BOSS_EXTRUDE25_DEPTH, both=True)

    # Sketch38 → Cut-Extrude15 (cut)
    with BuildSketch(Plane(origin=(0, -91, 0), x_dir=(1, 0, 0), z_dir=(0, 1, 0))):
        Polygon((39.837168574, -16), (33.774990748, -16), (30.743901834, -21.25), (33.774990748, -26.5), (39.837168574, -26.5), (42.868257487, -21.25), align=None)
        Polygon((39.837168574, 26.5), (33.774990748, 26.5), (30.743901834, 21.25), (33.774990748, 16), (39.837168574, 16), (42.868257487, 21.25), align=None)
        Polygon((5.25, -45.531088913), (5.25, -39.468911087), (0, -36.437822174), (-5.25, -39.468911087), (-5.25, -45.531088913), (0, -48.562177826), align=None)
        Polygon((-39.837168574, -26.5), (-33.774990748, -26.5), (-30.743901834, -21.25), (-33.774990748, -16), (-39.837168574, -16), (-42.868257487, -21.25), align=None)
        Polygon((-39.837168574, 16), (-33.774990748, 16), (-30.743901834, 21.25), (-33.774990748, 26.5), (-39.837168574, 26.5), (-42.868257487, 21.25), align=None)
        Polygon((0, 48.562177826), (-5.25, 45.531088913), (-5.25, 39.468911087), (0, 36.437822174), (5.25, 39.468911087), (5.25, 45.531088913), align=None)
    extrude(amount=-CUT_EXTRUDE15_DEPTH, mode=Mode.SUBTRACT)

    # Sketch42 → Cut-Extrude16 (cut)
    with BuildSketch(Plane(origin=(0, 28, 0), x_dir=(1, 0, 0), z_dir=(0, 1, 0)).offset(CUT_EXTRUDE16_START)):
        with Locations(Location((0, 0, 0), (0, 0, 270))):
            Circle(SKETCH42_R)
        with Locations(Location((0, 0, 0), (0, 0, 90))):
            Circle(SKETCH42_R_2, mode=Mode.SUBTRACT)
    extrude(amount=CUT_EXTRUDE16_DEPTH, mode=Mode.SUBTRACT)

    # Sketch43 → Cut-Extrude17 (cut)
    with BuildSketch(Plane(origin=(0, -1, 0), x_dir=(1, 0, 0), z_dir=(0, 1, 0)).offset(CUT_EXTRUDE17_START)):
        with Locations(Location((0, 0, 0), (0, 0, 270))):
            Circle(SKETCH43_R)
        with Locations(Location((0, 0, 0), (0, 0, 270))):
            Circle(SKETCH43_R_2, mode=Mode.SUBTRACT)
    extrude(amount=CUT_EXTRUDE17_DEPTH, mode=Mode.SUBTRACT)

    # Sketch44 → Boss-Extrude26 (add)
    with BuildSketch(Plane(origin=(0, -1.5, 0), x_dir=(1, 0, 0), z_dir=(0, 1, 0))):
        with Locations(Location((0, 0, 0), (0, 0, 270))):
            Circle(SKETCH44_R)
        with Locations(Location((0, 0, 0), (0, 0, 270))):
            Circle(SKETCH44_R_2, mode=Mode.SUBTRACT)
    extrude(amount=BOSS_EXTRUDE26_DEPTH)

    # Sketch45 → Boss-Extrude27 (add)
    with BuildSketch(Plane(origin=(0, 24, 0), x_dir=(1, 0, 0), z_dir=(0, 1, 0))):
        with Locations(Location((0, 0, 0), (0, 0, 270))):
            Circle(SKETCH45_R)
        with Locations(Location((0, 0, 0), (0, 0, 90))):
            Circle(SKETCH45_R_2, mode=Mode.SUBTRACT)
    extrude(amount=BOSS_EXTRUDE27_DEPTH)

    # Sketch46 → Cut-Extrude18 (cut)
    with BuildSketch(Plane.XZ.offset(96)):
        with Locations((-10, 14.95)):
            Rectangle(SKETCH46_W, SKETCH46_H)
        with Locations((-14.95, 10)):
            Rectangle(SKETCH46_W_2, SKETCH46_H_2)
        with Locations((10, -14.95)):
            Rectangle(SKETCH46_W, SKETCH46_H)
        with Locations((14.95, -10)):
            Rectangle(SKETCH46_W_2, SKETCH46_H_2)
    extrude(amount=-CUT_EXTRUDE18_DEPTH, mode=Mode.SUBTRACT)


with BuildPart() as body_2:
    # Split1: the piece behind the surface
    add(part.part)
    # Split1 surface: a surface, the sketch's curves swept straight by 483.908 mm
    with BuildLine(Plane.XY.offset(-SPLIT1_SURFACE_1_BACK), mode=Mode.PRIVATE) as split1_surface_1_path:
        Line((26.2, -6), (-26.2, -6))
    split1_surface_1 = Shell.extrude(split1_surface_1_path.wire(), (0 * SPLIT1_SURFACE_1_DEPTH, 0 * SPLIT1_SURFACE_1_DEPTH, 1 * SPLIT1_SURFACE_1_DEPTH))
    split(bisect_by=split1_surface_1, keep=Keep.BOTTOM)


with BuildPart() as part_1:
    add(part.part)

    # Split1: split by a surface, the side it looks to stays
    # Split1 surface: a surface, the sketch's curves swept straight by 483.908 mm
    with BuildLine(Plane.XY.offset(-SPLIT1_SURFACE_2_BACK), mode=Mode.PRIVATE) as split1_surface_2_path:
        Line((26.2, -6), (-26.2, -6))
    split1_surface_2 = Shell.extrude(split1_surface_2_path.wire(), (0 * SPLIT1_SURFACE_2_DEPTH, 0 * SPLIT1_SURFACE_2_DEPTH, 1 * SPLIT1_SURFACE_2_DEPTH))
    split(bisect_by=split1_surface_2, keep=Keep.TOP)


solid = Compound([body_2.part, part_1.part])
